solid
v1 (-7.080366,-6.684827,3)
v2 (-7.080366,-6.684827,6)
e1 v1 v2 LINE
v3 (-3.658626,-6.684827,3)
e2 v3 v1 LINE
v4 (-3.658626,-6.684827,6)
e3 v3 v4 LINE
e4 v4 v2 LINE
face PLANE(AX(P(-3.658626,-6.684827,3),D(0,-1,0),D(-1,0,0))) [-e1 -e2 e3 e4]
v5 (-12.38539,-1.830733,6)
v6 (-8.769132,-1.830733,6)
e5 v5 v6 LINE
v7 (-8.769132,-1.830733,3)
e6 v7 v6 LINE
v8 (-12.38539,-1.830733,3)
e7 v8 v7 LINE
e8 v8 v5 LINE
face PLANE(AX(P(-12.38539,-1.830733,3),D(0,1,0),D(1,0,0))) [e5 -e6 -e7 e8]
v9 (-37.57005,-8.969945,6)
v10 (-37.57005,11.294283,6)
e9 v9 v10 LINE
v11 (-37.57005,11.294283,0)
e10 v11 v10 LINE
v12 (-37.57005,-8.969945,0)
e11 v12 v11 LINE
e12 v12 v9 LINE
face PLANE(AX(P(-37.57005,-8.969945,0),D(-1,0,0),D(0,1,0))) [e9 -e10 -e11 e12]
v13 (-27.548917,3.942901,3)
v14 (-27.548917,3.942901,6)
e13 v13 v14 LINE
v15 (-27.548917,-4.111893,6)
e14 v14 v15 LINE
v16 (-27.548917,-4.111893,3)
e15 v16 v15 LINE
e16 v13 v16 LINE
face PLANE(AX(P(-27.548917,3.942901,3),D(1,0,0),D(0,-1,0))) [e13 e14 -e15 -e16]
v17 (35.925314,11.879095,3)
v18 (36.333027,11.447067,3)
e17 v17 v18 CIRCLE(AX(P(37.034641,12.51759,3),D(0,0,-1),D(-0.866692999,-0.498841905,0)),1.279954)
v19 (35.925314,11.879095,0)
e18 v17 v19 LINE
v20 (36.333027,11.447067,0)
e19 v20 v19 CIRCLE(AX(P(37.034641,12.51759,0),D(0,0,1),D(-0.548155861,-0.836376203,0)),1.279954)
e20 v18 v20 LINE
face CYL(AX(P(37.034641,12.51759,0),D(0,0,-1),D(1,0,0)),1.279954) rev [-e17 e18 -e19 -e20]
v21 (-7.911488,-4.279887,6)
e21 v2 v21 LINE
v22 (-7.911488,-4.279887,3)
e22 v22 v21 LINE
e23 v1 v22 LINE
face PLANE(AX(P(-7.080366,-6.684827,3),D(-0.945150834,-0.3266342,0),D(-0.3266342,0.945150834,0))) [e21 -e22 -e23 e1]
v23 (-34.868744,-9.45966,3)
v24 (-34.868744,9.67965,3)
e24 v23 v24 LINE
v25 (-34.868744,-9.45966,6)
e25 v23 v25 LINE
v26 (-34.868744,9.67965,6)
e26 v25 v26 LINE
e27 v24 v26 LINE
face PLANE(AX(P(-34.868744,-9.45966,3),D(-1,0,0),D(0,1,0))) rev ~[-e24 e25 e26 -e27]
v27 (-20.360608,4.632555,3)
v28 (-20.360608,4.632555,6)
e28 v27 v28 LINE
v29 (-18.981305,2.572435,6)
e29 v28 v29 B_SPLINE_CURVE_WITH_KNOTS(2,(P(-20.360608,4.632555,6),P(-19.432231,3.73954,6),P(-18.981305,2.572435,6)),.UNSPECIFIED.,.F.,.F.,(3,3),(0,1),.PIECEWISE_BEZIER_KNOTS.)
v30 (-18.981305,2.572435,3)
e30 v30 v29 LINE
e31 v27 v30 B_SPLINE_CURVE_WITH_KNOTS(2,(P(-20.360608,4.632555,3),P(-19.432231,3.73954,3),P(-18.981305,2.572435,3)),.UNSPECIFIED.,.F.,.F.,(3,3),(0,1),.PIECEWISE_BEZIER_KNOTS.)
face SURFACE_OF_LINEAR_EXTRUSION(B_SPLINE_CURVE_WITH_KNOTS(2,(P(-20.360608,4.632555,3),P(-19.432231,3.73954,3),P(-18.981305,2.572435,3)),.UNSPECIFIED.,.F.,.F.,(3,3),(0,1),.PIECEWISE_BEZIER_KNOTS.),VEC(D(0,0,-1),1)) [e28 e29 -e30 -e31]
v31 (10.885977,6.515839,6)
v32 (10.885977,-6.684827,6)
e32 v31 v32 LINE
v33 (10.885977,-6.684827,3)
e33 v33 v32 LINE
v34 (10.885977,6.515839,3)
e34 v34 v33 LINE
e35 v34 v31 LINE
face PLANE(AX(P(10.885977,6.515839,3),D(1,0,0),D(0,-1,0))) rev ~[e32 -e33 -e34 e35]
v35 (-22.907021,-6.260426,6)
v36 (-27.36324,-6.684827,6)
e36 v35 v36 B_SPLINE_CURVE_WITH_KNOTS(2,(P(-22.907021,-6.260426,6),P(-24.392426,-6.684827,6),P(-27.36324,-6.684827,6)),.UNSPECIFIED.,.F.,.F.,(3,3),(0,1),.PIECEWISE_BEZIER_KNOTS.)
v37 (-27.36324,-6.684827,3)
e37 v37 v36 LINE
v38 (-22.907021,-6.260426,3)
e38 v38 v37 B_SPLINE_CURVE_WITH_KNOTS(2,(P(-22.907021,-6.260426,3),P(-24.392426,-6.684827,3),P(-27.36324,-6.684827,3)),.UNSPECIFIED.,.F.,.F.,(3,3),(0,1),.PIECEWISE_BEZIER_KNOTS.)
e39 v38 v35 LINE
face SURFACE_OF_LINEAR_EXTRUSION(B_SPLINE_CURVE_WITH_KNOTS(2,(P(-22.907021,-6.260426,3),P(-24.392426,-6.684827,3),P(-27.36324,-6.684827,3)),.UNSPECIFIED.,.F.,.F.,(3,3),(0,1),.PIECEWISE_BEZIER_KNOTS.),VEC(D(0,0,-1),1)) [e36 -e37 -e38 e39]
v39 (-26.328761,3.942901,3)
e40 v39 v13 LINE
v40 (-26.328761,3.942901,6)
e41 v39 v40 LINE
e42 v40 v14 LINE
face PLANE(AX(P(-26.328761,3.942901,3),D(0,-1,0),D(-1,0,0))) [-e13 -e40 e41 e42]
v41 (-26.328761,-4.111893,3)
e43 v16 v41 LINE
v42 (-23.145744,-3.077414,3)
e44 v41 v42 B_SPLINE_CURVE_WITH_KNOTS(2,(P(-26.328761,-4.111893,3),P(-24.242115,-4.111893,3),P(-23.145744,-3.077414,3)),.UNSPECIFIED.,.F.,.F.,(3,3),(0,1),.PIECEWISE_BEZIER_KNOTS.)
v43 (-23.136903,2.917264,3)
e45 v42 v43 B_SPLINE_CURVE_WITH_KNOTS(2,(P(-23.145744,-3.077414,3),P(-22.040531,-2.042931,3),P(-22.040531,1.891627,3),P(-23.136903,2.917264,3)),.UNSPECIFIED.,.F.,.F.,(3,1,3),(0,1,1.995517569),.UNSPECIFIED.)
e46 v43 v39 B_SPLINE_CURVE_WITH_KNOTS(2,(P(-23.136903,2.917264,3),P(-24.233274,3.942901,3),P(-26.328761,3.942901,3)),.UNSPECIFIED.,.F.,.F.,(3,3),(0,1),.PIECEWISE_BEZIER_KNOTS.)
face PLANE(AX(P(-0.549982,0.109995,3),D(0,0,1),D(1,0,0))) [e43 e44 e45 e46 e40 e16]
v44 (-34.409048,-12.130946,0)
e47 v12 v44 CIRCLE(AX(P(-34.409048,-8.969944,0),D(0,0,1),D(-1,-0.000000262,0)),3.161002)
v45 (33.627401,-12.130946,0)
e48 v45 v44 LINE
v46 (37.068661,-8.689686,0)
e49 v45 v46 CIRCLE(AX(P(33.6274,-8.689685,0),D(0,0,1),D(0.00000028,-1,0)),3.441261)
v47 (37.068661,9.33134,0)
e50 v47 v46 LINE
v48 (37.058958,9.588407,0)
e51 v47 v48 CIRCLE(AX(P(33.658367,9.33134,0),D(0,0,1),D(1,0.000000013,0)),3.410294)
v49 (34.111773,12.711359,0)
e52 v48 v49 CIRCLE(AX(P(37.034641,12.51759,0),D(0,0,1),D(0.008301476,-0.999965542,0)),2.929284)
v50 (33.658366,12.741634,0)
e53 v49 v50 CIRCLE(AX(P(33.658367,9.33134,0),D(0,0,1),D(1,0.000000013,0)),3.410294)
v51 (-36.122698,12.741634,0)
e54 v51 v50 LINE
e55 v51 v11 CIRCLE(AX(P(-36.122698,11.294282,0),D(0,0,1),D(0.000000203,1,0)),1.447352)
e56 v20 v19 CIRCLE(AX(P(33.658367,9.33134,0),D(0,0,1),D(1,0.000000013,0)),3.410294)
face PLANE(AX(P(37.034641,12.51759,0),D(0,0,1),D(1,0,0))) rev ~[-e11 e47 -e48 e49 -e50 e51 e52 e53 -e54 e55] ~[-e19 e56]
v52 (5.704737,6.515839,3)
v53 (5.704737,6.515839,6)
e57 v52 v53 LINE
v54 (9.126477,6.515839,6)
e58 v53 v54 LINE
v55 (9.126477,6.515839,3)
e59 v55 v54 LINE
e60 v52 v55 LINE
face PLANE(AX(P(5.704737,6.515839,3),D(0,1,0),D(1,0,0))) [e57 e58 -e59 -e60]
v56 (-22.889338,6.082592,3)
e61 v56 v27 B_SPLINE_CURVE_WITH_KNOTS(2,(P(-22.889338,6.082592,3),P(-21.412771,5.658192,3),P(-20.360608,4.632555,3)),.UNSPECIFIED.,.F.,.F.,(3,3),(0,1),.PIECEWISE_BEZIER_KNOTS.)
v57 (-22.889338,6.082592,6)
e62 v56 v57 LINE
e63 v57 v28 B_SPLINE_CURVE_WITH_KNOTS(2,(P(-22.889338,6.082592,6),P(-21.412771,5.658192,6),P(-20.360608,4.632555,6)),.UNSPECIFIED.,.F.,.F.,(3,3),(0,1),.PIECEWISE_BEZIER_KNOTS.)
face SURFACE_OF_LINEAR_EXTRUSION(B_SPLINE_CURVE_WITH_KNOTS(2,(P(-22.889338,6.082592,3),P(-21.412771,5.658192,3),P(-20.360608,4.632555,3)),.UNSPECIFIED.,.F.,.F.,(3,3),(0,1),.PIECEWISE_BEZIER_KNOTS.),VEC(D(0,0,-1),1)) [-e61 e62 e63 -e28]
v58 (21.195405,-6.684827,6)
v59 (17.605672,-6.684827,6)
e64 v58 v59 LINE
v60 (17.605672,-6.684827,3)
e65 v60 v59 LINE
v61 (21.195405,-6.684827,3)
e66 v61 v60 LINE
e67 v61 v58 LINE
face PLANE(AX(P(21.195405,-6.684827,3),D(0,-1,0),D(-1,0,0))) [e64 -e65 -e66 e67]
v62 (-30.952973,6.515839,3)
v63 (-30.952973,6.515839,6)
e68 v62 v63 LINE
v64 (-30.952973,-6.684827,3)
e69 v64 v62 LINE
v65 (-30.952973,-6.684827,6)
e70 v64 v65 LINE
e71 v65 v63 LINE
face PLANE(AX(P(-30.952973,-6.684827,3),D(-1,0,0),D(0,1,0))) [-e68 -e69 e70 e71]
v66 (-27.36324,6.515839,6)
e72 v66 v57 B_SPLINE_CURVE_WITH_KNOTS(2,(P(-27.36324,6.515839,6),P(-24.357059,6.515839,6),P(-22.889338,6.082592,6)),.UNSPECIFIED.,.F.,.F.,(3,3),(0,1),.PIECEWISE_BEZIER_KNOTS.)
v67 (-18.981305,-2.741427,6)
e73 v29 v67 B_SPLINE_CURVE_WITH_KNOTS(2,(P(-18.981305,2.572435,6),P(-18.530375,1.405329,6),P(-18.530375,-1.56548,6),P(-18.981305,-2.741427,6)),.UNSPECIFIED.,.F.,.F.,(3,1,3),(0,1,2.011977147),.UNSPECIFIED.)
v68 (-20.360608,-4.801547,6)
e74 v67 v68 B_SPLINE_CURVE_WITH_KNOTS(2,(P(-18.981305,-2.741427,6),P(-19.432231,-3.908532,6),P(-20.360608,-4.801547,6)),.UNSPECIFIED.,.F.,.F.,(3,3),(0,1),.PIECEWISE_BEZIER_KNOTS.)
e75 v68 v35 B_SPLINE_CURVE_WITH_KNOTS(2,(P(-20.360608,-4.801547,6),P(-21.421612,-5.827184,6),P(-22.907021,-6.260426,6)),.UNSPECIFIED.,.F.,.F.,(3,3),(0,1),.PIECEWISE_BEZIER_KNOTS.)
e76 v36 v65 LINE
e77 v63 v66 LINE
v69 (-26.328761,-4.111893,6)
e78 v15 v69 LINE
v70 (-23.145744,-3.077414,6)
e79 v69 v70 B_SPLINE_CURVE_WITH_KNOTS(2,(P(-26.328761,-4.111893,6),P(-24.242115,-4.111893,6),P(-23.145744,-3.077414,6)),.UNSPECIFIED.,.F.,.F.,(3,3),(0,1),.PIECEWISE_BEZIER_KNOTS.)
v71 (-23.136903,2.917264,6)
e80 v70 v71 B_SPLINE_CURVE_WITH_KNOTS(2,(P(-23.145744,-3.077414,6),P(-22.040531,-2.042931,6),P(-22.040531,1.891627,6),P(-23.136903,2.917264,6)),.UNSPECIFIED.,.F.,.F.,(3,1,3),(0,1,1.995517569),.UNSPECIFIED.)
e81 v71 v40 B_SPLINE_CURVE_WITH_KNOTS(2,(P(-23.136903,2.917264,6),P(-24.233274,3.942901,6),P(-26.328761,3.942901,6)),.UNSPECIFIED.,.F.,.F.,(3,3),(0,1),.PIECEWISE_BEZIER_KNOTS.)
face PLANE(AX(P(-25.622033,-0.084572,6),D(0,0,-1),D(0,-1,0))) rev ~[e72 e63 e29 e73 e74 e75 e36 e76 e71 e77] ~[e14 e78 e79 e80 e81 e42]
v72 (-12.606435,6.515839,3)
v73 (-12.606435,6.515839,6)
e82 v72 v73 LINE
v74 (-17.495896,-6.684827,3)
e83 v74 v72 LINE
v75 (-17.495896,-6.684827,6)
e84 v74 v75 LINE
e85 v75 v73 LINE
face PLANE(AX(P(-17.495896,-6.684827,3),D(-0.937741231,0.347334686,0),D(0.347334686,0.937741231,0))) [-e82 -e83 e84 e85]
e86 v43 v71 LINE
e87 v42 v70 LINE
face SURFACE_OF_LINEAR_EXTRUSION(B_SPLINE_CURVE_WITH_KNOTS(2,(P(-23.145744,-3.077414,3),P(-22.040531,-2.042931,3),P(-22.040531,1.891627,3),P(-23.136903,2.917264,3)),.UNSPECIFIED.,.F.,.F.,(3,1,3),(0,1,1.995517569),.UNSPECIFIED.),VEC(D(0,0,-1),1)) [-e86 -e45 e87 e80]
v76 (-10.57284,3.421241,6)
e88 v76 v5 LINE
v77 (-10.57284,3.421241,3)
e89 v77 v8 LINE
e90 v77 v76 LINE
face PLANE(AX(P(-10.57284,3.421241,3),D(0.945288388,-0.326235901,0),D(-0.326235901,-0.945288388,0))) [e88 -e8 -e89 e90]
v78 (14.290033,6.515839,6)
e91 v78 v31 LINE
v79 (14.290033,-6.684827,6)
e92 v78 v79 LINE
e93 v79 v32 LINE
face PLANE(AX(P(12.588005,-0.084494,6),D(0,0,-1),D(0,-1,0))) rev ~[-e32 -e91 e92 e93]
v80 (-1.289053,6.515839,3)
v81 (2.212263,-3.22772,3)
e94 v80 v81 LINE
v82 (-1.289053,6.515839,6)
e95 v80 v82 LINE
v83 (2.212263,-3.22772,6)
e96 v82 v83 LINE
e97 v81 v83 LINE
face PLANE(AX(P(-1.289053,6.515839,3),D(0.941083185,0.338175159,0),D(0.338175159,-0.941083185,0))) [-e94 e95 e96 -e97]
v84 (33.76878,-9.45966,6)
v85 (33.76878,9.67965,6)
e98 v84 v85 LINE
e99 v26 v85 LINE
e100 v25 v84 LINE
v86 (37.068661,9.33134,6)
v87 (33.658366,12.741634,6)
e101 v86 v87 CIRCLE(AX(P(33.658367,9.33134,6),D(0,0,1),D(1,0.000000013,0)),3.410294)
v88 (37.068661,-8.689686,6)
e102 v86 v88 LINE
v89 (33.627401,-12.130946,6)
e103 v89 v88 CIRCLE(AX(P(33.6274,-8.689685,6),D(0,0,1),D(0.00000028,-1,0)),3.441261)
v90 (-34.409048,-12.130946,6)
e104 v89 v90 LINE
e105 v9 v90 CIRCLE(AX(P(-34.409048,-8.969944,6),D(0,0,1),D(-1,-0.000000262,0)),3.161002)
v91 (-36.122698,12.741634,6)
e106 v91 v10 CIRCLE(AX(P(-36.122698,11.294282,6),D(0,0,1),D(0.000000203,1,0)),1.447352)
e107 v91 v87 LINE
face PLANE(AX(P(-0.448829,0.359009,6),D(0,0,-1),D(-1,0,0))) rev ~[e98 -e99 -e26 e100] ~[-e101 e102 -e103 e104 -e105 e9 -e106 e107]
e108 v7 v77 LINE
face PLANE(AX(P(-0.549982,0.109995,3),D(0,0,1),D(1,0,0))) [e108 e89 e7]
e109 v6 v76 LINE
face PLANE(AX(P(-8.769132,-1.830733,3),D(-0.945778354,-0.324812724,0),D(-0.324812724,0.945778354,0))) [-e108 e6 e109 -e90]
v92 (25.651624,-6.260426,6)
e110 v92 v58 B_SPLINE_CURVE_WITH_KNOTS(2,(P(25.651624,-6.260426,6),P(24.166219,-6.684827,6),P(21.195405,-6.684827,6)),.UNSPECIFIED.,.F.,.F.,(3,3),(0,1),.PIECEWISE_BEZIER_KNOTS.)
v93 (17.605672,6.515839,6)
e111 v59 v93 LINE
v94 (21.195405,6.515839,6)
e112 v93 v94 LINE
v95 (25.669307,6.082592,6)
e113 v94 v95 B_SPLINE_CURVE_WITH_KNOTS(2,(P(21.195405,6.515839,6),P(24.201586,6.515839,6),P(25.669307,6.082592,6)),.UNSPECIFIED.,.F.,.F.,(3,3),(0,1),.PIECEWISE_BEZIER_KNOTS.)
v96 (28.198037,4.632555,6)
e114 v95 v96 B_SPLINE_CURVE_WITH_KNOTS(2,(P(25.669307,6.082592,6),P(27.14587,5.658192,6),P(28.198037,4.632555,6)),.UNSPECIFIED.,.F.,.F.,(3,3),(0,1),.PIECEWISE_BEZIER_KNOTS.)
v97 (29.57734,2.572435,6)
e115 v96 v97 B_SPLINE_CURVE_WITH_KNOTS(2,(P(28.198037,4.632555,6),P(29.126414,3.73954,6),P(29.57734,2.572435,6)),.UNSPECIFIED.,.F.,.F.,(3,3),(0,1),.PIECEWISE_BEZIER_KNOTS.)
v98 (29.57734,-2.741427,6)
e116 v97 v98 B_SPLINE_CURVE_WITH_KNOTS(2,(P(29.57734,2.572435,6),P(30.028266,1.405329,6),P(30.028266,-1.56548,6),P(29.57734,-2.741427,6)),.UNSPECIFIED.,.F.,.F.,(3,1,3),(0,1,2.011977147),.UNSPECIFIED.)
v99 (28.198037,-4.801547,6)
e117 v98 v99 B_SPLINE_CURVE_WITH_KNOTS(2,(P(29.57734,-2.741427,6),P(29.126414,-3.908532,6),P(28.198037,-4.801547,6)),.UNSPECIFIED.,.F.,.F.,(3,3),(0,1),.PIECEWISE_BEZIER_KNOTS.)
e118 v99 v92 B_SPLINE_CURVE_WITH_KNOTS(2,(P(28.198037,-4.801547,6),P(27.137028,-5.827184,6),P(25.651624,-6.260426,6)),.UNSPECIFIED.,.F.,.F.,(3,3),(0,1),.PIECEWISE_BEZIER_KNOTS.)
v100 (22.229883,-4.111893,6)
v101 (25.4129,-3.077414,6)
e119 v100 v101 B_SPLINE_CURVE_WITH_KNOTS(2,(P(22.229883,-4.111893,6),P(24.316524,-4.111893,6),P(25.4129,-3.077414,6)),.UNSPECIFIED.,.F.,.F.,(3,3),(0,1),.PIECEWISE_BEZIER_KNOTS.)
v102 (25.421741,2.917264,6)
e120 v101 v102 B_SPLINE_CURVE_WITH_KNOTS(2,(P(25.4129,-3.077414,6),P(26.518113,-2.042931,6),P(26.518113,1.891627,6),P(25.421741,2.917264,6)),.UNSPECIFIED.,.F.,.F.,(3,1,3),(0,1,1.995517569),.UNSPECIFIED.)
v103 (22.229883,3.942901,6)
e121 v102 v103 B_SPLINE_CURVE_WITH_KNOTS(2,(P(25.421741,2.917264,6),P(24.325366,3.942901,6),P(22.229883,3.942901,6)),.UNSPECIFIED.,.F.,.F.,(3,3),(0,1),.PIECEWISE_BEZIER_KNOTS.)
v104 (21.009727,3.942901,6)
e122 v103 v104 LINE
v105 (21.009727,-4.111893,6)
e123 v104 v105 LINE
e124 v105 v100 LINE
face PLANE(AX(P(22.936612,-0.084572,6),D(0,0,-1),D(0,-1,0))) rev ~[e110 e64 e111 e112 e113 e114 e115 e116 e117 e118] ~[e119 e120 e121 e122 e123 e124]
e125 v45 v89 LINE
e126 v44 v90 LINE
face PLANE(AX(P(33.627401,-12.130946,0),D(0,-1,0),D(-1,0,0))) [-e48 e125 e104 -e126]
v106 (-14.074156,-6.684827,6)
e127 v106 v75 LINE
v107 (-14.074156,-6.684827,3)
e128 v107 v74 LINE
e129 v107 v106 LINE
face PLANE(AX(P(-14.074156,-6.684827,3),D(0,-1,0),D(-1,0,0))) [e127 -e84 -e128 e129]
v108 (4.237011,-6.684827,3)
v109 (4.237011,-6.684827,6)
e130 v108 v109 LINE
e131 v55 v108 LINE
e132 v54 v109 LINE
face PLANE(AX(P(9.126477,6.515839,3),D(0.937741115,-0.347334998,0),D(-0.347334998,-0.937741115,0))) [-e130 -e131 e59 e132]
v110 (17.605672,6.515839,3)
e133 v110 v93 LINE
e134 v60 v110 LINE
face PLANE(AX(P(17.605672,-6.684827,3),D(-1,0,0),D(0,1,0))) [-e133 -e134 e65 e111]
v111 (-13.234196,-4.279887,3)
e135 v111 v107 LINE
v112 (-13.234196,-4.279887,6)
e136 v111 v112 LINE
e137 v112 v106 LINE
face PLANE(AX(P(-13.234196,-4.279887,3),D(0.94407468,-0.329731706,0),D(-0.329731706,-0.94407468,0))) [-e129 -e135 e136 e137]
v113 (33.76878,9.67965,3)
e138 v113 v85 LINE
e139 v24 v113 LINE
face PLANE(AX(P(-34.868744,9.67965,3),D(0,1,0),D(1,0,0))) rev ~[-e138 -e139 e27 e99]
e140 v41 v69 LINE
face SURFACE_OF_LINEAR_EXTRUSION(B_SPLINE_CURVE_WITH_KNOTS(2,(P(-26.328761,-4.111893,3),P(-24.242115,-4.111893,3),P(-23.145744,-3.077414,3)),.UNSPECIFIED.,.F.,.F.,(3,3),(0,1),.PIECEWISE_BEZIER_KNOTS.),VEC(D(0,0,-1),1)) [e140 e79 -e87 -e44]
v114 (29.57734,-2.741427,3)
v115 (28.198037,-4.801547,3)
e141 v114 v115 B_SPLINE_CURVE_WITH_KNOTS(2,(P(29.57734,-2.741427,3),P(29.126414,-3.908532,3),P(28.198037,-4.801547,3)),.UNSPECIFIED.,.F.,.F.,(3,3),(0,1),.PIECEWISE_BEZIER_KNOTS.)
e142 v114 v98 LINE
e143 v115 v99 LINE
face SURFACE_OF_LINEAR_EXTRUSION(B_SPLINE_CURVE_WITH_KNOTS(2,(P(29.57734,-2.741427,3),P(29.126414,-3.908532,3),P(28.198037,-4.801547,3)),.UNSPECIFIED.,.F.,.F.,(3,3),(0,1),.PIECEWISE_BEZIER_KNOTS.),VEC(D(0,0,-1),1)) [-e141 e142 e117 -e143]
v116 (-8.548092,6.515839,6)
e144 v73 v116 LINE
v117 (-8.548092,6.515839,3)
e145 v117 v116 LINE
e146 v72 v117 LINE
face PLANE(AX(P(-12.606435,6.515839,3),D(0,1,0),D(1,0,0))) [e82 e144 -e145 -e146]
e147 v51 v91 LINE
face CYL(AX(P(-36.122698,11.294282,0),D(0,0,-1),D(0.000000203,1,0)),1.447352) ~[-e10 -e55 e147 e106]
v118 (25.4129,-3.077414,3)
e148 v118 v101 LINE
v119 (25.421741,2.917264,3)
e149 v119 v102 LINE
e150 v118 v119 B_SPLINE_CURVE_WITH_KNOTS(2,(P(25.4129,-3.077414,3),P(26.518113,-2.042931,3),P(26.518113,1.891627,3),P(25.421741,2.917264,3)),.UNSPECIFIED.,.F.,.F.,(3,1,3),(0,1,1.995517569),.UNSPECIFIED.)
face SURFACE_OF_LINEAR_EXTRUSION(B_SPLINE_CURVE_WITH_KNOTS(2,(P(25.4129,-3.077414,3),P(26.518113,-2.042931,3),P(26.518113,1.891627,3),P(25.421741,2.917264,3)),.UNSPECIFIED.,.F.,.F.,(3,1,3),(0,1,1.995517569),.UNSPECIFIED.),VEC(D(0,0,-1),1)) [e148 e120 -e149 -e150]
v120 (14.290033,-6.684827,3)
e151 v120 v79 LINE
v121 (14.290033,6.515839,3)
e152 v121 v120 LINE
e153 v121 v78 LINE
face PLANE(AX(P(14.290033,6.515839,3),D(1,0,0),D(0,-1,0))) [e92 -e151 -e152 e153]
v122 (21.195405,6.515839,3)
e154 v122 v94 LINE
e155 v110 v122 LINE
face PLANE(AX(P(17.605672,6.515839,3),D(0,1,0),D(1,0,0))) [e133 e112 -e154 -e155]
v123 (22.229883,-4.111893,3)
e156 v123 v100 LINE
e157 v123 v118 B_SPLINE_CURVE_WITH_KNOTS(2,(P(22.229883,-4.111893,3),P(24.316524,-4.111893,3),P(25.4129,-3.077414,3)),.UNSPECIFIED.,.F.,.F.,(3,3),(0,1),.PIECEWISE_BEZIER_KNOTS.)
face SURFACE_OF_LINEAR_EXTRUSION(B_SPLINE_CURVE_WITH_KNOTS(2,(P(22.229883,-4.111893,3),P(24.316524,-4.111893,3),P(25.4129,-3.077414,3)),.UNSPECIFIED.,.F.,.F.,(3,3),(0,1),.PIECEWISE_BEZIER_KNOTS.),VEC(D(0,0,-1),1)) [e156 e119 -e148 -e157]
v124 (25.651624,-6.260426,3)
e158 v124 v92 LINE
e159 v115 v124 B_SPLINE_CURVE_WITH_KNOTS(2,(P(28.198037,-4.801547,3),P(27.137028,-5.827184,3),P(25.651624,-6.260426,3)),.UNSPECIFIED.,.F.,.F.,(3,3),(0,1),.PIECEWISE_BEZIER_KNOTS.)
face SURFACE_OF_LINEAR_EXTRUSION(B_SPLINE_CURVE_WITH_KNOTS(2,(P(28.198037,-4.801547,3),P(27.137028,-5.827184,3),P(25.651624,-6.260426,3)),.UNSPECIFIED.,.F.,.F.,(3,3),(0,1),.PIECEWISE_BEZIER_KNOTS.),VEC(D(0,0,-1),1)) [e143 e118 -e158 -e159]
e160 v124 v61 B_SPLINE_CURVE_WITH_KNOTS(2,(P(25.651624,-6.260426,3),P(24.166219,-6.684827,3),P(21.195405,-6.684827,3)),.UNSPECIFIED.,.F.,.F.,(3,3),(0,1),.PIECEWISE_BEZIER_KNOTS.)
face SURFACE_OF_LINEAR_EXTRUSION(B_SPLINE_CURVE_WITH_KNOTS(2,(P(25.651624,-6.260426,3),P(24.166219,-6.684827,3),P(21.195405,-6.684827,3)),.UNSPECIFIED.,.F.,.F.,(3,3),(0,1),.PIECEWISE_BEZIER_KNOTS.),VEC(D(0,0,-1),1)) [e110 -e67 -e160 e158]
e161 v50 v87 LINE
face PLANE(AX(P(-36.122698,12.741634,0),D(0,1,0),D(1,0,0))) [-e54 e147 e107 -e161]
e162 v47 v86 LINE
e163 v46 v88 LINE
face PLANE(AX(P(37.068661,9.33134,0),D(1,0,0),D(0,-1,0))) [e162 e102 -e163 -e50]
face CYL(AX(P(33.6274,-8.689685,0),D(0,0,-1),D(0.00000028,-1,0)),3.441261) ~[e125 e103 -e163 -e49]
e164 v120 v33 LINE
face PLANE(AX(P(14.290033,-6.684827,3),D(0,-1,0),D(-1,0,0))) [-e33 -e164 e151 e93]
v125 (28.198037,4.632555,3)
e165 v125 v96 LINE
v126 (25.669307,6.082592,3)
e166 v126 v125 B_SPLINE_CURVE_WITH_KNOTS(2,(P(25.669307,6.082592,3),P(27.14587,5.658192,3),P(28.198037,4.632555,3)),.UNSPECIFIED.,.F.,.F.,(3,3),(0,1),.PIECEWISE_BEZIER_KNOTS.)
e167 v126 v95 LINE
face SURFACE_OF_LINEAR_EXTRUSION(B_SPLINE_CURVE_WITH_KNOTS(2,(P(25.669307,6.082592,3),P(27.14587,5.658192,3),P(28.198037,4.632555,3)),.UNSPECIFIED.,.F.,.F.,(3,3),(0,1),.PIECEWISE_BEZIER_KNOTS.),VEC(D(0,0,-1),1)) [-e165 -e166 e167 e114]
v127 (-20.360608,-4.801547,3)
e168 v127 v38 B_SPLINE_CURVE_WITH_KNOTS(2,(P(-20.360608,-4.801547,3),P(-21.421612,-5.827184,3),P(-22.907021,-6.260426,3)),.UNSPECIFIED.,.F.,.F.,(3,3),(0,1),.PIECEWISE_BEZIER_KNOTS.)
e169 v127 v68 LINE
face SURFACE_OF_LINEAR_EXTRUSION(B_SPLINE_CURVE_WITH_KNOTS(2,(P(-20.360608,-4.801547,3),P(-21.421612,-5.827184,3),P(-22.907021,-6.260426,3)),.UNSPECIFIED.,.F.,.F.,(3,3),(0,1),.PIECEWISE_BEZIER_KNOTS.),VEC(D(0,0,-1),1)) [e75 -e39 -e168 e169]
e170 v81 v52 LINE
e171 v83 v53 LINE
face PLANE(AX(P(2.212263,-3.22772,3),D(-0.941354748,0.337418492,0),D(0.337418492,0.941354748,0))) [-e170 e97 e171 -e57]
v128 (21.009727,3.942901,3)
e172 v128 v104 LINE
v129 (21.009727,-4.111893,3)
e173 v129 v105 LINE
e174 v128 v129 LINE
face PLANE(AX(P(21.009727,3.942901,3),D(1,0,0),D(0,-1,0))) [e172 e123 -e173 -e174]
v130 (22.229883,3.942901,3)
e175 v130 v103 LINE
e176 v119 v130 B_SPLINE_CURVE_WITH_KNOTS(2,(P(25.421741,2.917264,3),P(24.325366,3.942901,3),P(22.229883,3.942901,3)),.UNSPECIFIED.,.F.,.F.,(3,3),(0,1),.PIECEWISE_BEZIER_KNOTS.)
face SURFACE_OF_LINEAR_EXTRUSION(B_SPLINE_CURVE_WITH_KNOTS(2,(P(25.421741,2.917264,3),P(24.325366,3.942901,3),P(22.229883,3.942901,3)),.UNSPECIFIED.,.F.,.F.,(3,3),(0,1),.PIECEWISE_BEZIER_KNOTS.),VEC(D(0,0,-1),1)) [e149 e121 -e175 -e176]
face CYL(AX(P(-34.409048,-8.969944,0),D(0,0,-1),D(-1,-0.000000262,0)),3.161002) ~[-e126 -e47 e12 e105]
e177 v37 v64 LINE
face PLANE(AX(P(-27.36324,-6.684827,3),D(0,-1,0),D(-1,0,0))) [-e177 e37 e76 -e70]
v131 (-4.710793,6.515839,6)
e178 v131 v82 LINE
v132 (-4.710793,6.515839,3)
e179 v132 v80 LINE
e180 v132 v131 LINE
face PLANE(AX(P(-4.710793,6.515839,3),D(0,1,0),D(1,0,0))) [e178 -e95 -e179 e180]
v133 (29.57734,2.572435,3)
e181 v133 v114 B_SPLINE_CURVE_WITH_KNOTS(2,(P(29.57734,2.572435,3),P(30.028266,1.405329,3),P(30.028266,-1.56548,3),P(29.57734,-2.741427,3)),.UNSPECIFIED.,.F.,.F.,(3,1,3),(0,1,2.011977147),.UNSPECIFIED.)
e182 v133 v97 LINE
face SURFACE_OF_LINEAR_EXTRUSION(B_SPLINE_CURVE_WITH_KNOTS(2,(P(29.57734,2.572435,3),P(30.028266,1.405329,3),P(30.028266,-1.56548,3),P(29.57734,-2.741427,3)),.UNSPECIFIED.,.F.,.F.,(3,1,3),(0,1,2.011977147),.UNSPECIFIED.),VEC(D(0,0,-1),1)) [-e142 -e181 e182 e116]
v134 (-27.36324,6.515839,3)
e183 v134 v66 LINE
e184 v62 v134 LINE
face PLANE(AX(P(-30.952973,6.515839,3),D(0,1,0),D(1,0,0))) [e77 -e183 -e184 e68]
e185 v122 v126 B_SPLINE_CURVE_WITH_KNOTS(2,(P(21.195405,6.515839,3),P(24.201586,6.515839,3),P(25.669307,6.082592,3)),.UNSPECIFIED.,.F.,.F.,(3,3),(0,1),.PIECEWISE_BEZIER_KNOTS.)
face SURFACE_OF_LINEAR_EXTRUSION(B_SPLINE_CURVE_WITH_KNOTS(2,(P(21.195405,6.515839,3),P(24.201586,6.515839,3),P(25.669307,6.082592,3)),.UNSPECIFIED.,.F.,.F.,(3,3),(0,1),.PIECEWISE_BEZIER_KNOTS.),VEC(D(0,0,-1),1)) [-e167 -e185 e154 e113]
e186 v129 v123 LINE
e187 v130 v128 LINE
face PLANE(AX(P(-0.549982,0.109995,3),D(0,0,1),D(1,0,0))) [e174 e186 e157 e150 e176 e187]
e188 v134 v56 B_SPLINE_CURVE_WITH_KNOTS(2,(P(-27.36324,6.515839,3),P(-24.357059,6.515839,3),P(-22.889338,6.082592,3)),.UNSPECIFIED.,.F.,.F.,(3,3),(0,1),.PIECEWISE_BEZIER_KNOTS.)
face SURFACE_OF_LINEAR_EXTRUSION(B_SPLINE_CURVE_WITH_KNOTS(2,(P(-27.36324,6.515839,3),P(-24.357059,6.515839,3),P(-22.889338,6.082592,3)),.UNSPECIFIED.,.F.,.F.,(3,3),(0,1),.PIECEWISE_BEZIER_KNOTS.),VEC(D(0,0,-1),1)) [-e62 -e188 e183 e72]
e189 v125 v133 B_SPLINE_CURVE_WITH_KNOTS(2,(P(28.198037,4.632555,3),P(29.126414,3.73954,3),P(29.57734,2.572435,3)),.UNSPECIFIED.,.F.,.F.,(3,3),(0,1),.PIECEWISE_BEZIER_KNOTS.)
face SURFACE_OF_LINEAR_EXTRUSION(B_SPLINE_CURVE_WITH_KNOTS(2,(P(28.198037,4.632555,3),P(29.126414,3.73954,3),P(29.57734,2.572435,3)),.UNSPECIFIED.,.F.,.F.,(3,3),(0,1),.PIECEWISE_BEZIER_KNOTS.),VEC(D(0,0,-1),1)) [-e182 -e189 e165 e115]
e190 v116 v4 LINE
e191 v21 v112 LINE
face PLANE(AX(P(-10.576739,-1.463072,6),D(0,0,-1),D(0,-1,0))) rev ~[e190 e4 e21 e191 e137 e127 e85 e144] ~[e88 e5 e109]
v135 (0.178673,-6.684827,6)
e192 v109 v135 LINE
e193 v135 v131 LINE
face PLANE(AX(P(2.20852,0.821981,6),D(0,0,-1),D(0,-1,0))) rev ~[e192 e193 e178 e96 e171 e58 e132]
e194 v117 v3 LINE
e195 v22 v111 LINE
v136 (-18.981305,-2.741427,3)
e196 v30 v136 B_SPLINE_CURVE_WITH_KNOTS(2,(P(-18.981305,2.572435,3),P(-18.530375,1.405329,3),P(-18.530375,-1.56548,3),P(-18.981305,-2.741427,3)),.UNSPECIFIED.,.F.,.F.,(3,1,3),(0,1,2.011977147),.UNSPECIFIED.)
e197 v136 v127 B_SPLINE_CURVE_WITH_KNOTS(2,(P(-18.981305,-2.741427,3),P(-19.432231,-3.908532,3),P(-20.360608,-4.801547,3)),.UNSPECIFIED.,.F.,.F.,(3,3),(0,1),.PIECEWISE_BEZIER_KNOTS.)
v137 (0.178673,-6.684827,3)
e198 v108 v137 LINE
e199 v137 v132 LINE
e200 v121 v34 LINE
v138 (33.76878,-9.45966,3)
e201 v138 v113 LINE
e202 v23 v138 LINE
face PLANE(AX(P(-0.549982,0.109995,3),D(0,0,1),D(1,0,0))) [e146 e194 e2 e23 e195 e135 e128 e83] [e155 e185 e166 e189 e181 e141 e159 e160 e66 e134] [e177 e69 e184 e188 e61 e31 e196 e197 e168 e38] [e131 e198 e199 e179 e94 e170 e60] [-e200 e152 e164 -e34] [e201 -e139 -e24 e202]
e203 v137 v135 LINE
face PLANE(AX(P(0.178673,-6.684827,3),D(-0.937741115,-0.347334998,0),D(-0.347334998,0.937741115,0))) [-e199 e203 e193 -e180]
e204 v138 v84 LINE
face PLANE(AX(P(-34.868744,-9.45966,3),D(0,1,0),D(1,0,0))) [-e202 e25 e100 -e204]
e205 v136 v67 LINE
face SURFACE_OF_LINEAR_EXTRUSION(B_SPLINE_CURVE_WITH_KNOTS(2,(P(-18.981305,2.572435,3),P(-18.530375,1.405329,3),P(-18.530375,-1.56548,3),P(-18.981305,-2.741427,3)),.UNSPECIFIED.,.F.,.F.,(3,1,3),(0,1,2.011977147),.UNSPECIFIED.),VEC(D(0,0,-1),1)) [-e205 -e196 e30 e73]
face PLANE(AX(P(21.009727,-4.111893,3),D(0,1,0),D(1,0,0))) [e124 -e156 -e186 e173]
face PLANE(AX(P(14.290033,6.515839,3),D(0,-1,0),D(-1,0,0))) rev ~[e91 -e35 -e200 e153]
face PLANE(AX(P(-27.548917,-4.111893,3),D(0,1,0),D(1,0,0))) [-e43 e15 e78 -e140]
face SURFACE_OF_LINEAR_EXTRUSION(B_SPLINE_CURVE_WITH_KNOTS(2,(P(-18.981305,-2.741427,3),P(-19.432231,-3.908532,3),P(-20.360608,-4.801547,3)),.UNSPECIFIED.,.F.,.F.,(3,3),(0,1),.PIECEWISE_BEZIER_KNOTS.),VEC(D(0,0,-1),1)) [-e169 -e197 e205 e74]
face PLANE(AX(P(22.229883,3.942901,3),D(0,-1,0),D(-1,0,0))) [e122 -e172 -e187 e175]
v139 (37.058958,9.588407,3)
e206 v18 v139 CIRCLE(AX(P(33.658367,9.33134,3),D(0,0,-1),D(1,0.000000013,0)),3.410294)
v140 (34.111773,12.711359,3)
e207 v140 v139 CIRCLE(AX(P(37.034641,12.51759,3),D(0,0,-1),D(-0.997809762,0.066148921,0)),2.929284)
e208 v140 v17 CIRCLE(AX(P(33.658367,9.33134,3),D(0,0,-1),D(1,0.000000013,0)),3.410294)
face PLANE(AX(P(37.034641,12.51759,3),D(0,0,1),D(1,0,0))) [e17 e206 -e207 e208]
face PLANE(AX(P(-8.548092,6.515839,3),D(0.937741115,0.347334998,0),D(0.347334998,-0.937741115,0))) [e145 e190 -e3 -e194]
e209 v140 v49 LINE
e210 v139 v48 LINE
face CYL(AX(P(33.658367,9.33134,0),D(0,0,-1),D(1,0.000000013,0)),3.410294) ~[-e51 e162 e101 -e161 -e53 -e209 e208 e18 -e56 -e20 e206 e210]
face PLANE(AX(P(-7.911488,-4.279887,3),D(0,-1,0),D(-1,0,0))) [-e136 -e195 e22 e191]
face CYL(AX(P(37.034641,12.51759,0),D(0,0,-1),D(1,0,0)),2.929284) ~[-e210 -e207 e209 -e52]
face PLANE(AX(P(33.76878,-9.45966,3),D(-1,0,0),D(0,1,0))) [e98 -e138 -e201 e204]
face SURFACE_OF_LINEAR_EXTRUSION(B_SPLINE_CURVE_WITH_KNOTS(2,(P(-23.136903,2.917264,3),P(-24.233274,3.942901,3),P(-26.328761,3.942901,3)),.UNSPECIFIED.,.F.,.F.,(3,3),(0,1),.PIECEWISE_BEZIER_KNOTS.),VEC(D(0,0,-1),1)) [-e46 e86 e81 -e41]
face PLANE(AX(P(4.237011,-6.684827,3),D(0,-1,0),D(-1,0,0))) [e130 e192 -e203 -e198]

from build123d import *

# Parameters (mm, degrees)
SKETCH002_R      = 2.929284
SKETCH002_R_2    = 1.279954
PAD002_DEPTH     = 3
PATH4830_W       = 13.200666
PATH4830_H       = 3.404056
EXTRUDE005_DEPTH = 3
EXTRUDE006_DEPTH = 3
EXTRUDE007_DEPTH = 3
EXTRUDE003_DEPTH = 3
EXTRUDE002_DEPTH = 3
EXTRUDE_DEPTH    = 3
EXTRUDE001_DEPTH = 3
EXTRUDE004_DEPTH = 3
SKETCH_W         = 68.637524
SKETCH_H         = 19.139309
PAD_DEPTH        = 3
PAD001_DEPTH     = 6


with BuildPart() as enganche:
    # Sketch002 → Pad002 (new body)
    with BuildSketch(Plane.XY):
        with Locations((37.034641, 12.51759)):
            Circle(SKETCH002_R)
        with Locations((37.034641, 12.51759)):
            Circle(SKETCH002_R_2, mode=Mode.SUBTRACT)
    extrude(amount=PAD002_DEPTH)


with BuildPart() as extrude005:
    # path4830 → Extrude005 (new body)
    with BuildSketch(Plane(origin=(12.588005, -0.084494, 0), x_dir=(0, -1, 0), z_dir=(0, 0, -1))):
        Rectangle(PATH4830_W, PATH4830_H)
    extrude(amount=-EXTRUDE005_DEPTH)


with BuildPart() as d2_corte:
    # path4832 → Extrude006 (new body)
    with BuildSketch(Plane(origin=(23.76392, -0.084496, 0), x_dir=(0, 1, 0), z_dir=(0, 0, 1))):
        with BuildLine():
            Line((4.027397, 2.754193), (-4.027397, 2.754193))
            Line((-4.027397, 2.754193), (-4.027397, 1.534037))
            add(Edge.make_bspline(
                [(-4.027397, 1.534037), (-4.027397, -0.552604), (-2.992918, -1.64898)],
                knots=[0, 0, 0, 1, 1, 1], degree=2))
            add(Edge.make_bspline(
                [(-2.992918, -1.64898), (-1.958435, -2.754193), (0.013263, -2.754193)],
                knots=[0, 0, 0, 1, 1, 1], degree=2))
            add(Edge.make_bspline(
                [(0.013263, -2.754193), (1.976123, -2.754193), (3.00176, -1.657821)],
                knots=[0, 0, 0, 1, 1, 1], degree=2))
            add(Edge.make_bspline(
                [(3.00176, -1.657821), (4.027397, -0.561446), (4.027397, 1.534037)],
                knots=[0, 0, 0, 1, 1, 1], degree=2))
            Line((4.027397, 1.534037), (4.027397, 2.754193))
        make_face()
    extrude(amount=EXTRUDE006_DEPTH)


with BuildPart() as d2:
    # path4832001 → Extrude007 (new body)
    with BuildSketch(Plane(origin=(23.816969, -0.084494, 0), x_dir=(0, -1, 0), z_dir=(0, 0, -1))):
        with BuildLine():
            Line((-6.600333, 6.211297), (-6.600333, 2.621564))
            add(Edge.make_bspline(
                [(-6.600333, 2.621564), (-6.600333, -0.384617), (-6.167086, -1.852338)],
                knots=[0, 0, 0, 1, 1, 1], degree=2))
            add(Edge.make_bspline(
                [(-6.167086, -1.852338), (-5.742686, -3.328901), (-4.717049, -4.381068)],
                knots=[0, 0, 0, 1, 1, 1], degree=2))
            add(Edge.make_bspline(
                [(-4.717049, -4.381068), (-3.824034, -5.309445), (-2.656929, -5.760371)],
                knots=[0, 0, 0, 1, 1, 1], degree=2))
            add(Edge.make_bspline(
                [(-2.656929, -5.760371), (-1.489823, -6.211297), (-0.013261, -6.211297)],
                knots=[0, 0, 0, 1, 1, 1], degree=2))
            add(Edge.make_bspline(
                [(-0.013261, -6.211297), (1.480986, -6.211297), (2.656933, -5.760371)],
                knots=[0, 0, 0, 1, 1, 1], degree=2))
            add(Edge.make_bspline(
                [(2.656933, -5.760371), (3.824038, -5.309445), (4.717053, -4.381068)],
                knots=[0, 0, 0, 1, 1, 1], degree=2))
            add(Edge.make_bspline(
                [(4.717053, -4.381068), (5.74269, -3.320059), (6.175932, -1.834655)],
                knots=[0, 0, 0, 1, 1, 1], degree=2))
            add(Edge.make_bspline(
                [(6.175932, -1.834655), (6.600333, -0.34925), (6.600333, 2.621564)],
                knots=[0, 0, 0, 1, 1, 1], degree=2))
            Line((6.600333, 2.621564), (6.600333, 6.211297))
            Line((6.600333, 6.211297), (-6.600333, 6.211297))
        make_face()
    extrude(amount=-EXTRUDE007_DEPTH)

    # Cut001: cut D2-Corte
    add(d2_corte.part, mode=Mode.SUBTRACT)


with BuildPart() as a_corte:
    # path4826001 → Extrude003 (new body)
    with BuildSketch(Plane(origin=(-10.577261, 0.795254, 0), x_dir=(0, 1, 0), z_dir=(0, 0, 1))):
        Polygon((-2.625987, 1.808129), (-2.625987, -1.808129), (2.625987, -0.004421), align=None)
    extrude(amount=EXTRUDE003_DEPTH)


with BuildPart() as a:
    # path4826 → Extrude002 (new body)
    with BuildSketch(Plane(origin=(-10.577261, -0.084494, 0), x_dir=(0, -1, 0), z_dir=(0, 0, -1))):
        Polygon((4.195393, -2.665773), (4.195393, 2.656935), (6.600333, 3.496895), (6.600333, 6.918635), (-6.600333, 2.029174), (-6.600333, -2.029169), (6.600333, -6.918635), (6.600333, -3.496895), align=None)
    extrude(amount=-EXTRUDE002_DEPTH)

    # Cut: cut A-Corte
    add(a_corte.part, mode=Mode.SUBTRACT)


with BuildPart() as d1_corte:
    # path4824 → Extrude (new body)
    with BuildSketch(Plane(origin=(-24.794724, -0.084496, 0), x_dir=(0, 1, 0), z_dir=(0, 0, 1))):
        with BuildLine():
            Line((4.027397, 2.754193), (-4.027397, 2.754193))
            Line((-4.027397, 2.754193), (-4.027397, 1.534037))
            add(Edge.make_bspline(
                [(-4.027397, 1.534037), (-4.027397, -0.552609), (-2.992918, -1.64898)],
                knots=[0, 0, 0, 1, 1, 1], degree=2))
            add(Edge.make_bspline(
                [(-2.992918, -1.64898), (-1.958435, -2.754193), (0.013263, -2.754193)],
                knots=[0, 0, 0, 1, 1, 1], degree=2))
            add(Edge.make_bspline(
                [(0.013263, -2.754193), (1.976123, -2.754193), (3.00176, -1.657821)],
                knots=[0, 0, 0, 1, 1, 1], degree=2))
            add(Edge.make_bspline(
                [(3.00176, -1.657821), (4.027397, -0.56145), (4.027397, 1.534037)],
                knots=[0, 0, 0, 1, 1, 1], degree=2))
            Line((4.027397, 1.534037), (4.027397, 2.754193))
        make_face()
    extrude(amount=EXTRUDE_DEPTH)


with BuildPart() as d1:
    # path4824001 → Extrude001 (new body)
    with BuildSketch(Plane(origin=(-24.741674, -0.084494, 0), x_dir=(0, -1, 0), z_dir=(0, 0, -1))):
        with BuildLine():
            Line((-6.600333, 6.211299), (-6.600333, 2.621566))
            add(Edge.make_bspline(
                [(-6.600333, 2.621566), (-6.600333, -0.384615), (-6.167086, -1.852336)],
                knots=[0, 0, 0, 1, 1, 1], degree=2))
            add(Edge.make_bspline(
                [(-6.167086, -1.852336), (-5.742686, -3.328903), (-4.717049, -4.381066)],
                knots=[0, 0, 0, 1, 1, 1], degree=2))
            add(Edge.make_bspline(
                [(-4.717049, -4.381066), (-3.824034, -5.309443), (-2.656929, -5.760369)],
                knots=[0, 0, 0, 1, 1, 1], degree=2))
            add(Edge.make_bspline(
                [(-2.656929, -5.760369), (-1.489823, -6.211299), (-0.013261, -6.211299)],
                knots=[0, 0, 0, 1, 1, 1], degree=2))
            add(Edge.make_bspline(
                [(-0.013261, -6.211299), (1.480986, -6.211299), (2.656933, -5.760369)],
                knots=[0, 0, 0, 1, 1, 1], degree=2))
            add(Edge.make_bspline(
                [(2.656933, -5.760369), (3.824038, -5.309443), (4.717053, -4.381066)],
                knots=[0, 0, 0, 1, 1, 1], degree=2))
            add(Edge.make_bspline(
                [(4.717053, -4.381066), (5.74269, -3.320062), (6.175932, -1.834653)],
                knots=[0, 0, 0, 1, 1, 1], degree=2))
            add(Edge.make_bspline(
                [(6.175932, -1.834653), (6.600333, -0.349248), (6.600333, 2.621566)],
                knots=[0, 0, 0, 1, 1, 1], degree=2))
            Line((6.600333, 2.621566), (6.600333, 6.211299))
            Line((6.600333, 6.211299), (-6.600333, 6.211299))
        make_face()
    extrude(amount=-EXTRUDE001_DEPTH)

    # Cut002: cut D1-Corte
    add(d1_corte.part, mode=Mode.SUBTRACT)


with BuildPart() as letras:
    # path4828 → Extrude004 (new body)
    with BuildSketch(Plane(origin=(2.207842, -0.084494, 0), x_dir=(0, -1, 0), z_dir=(0, 0, -1))):
        Polygon((-6.600333, 6.918635), (-6.600333, 3.496895), (3.143226, -0.004421), (-6.600333, -3.496895), (-6.600333, -6.918635), (6.600333, -2.029169), (6.600333, 2.029169), align=None)
    extrude(amount=-EXTRUDE004_DEPTH)

    # Fusion: union Extrude005, D2, A, D1
    add(extrude005.part)
    add(d2.part)
    add(a.part)
    add(d1.part)


with BuildPart() as letras_1:
    # Fusion placement: moved
    add(letras.part.moved(Location((0, 0, 3))))


with BuildPart() as corte_base:
    # Sketch → Pad (new body)
    with BuildSketch(Plane.XY.offset(3)):
        with Locations((-0.549982, 0.109995)):
            Rectangle(SKETCH_W, SKETCH_H)
    extrude(amount=PAD_DEPTH)


with BuildPart() as llavero_david:
    # Sketch001 → Pad001 (new body)
    with BuildSketch(Plane.XY):
        with BuildLine():
            Line((-36.122698, 12.741634), (33.658366, 12.741634))
            ThreePointArc((37.068661, 9.33134), (36.069809, 11.742782), (33.658366, 12.741634))
            Line((37.068661, 9.33134), (37.068661, -8.689686))
            ThreePointArc((33.627401, -12.130946), (36.060739, -11.123024), (37.068661, -8.689686))
            Line((33.627401, -12.130946), (-34.409048, -12.130946))
            ThreePointArc((-37.57005, -8.969945), (-36.644214, -11.20511), (-34.409048, -12.130946))
            Line((-37.57005, -8.969945), (-37.57005, 11.294283))
            ThreePointArc((-36.122698, 12.741634), (-37.14613, 12.317715), (-37.57005, 11.294283))
        make_face()
    extrude(amount=PAD001_DEPTH)

    # Cut003: cut Corte-Base
    add(corte_base.part, mode=Mode.SUBTRACT)

    # Fusion001: union Letras
    add(letras_1.part)

    # Fusion002: union Enganche
    add(enganche.part)


solid = llavero_david.part
